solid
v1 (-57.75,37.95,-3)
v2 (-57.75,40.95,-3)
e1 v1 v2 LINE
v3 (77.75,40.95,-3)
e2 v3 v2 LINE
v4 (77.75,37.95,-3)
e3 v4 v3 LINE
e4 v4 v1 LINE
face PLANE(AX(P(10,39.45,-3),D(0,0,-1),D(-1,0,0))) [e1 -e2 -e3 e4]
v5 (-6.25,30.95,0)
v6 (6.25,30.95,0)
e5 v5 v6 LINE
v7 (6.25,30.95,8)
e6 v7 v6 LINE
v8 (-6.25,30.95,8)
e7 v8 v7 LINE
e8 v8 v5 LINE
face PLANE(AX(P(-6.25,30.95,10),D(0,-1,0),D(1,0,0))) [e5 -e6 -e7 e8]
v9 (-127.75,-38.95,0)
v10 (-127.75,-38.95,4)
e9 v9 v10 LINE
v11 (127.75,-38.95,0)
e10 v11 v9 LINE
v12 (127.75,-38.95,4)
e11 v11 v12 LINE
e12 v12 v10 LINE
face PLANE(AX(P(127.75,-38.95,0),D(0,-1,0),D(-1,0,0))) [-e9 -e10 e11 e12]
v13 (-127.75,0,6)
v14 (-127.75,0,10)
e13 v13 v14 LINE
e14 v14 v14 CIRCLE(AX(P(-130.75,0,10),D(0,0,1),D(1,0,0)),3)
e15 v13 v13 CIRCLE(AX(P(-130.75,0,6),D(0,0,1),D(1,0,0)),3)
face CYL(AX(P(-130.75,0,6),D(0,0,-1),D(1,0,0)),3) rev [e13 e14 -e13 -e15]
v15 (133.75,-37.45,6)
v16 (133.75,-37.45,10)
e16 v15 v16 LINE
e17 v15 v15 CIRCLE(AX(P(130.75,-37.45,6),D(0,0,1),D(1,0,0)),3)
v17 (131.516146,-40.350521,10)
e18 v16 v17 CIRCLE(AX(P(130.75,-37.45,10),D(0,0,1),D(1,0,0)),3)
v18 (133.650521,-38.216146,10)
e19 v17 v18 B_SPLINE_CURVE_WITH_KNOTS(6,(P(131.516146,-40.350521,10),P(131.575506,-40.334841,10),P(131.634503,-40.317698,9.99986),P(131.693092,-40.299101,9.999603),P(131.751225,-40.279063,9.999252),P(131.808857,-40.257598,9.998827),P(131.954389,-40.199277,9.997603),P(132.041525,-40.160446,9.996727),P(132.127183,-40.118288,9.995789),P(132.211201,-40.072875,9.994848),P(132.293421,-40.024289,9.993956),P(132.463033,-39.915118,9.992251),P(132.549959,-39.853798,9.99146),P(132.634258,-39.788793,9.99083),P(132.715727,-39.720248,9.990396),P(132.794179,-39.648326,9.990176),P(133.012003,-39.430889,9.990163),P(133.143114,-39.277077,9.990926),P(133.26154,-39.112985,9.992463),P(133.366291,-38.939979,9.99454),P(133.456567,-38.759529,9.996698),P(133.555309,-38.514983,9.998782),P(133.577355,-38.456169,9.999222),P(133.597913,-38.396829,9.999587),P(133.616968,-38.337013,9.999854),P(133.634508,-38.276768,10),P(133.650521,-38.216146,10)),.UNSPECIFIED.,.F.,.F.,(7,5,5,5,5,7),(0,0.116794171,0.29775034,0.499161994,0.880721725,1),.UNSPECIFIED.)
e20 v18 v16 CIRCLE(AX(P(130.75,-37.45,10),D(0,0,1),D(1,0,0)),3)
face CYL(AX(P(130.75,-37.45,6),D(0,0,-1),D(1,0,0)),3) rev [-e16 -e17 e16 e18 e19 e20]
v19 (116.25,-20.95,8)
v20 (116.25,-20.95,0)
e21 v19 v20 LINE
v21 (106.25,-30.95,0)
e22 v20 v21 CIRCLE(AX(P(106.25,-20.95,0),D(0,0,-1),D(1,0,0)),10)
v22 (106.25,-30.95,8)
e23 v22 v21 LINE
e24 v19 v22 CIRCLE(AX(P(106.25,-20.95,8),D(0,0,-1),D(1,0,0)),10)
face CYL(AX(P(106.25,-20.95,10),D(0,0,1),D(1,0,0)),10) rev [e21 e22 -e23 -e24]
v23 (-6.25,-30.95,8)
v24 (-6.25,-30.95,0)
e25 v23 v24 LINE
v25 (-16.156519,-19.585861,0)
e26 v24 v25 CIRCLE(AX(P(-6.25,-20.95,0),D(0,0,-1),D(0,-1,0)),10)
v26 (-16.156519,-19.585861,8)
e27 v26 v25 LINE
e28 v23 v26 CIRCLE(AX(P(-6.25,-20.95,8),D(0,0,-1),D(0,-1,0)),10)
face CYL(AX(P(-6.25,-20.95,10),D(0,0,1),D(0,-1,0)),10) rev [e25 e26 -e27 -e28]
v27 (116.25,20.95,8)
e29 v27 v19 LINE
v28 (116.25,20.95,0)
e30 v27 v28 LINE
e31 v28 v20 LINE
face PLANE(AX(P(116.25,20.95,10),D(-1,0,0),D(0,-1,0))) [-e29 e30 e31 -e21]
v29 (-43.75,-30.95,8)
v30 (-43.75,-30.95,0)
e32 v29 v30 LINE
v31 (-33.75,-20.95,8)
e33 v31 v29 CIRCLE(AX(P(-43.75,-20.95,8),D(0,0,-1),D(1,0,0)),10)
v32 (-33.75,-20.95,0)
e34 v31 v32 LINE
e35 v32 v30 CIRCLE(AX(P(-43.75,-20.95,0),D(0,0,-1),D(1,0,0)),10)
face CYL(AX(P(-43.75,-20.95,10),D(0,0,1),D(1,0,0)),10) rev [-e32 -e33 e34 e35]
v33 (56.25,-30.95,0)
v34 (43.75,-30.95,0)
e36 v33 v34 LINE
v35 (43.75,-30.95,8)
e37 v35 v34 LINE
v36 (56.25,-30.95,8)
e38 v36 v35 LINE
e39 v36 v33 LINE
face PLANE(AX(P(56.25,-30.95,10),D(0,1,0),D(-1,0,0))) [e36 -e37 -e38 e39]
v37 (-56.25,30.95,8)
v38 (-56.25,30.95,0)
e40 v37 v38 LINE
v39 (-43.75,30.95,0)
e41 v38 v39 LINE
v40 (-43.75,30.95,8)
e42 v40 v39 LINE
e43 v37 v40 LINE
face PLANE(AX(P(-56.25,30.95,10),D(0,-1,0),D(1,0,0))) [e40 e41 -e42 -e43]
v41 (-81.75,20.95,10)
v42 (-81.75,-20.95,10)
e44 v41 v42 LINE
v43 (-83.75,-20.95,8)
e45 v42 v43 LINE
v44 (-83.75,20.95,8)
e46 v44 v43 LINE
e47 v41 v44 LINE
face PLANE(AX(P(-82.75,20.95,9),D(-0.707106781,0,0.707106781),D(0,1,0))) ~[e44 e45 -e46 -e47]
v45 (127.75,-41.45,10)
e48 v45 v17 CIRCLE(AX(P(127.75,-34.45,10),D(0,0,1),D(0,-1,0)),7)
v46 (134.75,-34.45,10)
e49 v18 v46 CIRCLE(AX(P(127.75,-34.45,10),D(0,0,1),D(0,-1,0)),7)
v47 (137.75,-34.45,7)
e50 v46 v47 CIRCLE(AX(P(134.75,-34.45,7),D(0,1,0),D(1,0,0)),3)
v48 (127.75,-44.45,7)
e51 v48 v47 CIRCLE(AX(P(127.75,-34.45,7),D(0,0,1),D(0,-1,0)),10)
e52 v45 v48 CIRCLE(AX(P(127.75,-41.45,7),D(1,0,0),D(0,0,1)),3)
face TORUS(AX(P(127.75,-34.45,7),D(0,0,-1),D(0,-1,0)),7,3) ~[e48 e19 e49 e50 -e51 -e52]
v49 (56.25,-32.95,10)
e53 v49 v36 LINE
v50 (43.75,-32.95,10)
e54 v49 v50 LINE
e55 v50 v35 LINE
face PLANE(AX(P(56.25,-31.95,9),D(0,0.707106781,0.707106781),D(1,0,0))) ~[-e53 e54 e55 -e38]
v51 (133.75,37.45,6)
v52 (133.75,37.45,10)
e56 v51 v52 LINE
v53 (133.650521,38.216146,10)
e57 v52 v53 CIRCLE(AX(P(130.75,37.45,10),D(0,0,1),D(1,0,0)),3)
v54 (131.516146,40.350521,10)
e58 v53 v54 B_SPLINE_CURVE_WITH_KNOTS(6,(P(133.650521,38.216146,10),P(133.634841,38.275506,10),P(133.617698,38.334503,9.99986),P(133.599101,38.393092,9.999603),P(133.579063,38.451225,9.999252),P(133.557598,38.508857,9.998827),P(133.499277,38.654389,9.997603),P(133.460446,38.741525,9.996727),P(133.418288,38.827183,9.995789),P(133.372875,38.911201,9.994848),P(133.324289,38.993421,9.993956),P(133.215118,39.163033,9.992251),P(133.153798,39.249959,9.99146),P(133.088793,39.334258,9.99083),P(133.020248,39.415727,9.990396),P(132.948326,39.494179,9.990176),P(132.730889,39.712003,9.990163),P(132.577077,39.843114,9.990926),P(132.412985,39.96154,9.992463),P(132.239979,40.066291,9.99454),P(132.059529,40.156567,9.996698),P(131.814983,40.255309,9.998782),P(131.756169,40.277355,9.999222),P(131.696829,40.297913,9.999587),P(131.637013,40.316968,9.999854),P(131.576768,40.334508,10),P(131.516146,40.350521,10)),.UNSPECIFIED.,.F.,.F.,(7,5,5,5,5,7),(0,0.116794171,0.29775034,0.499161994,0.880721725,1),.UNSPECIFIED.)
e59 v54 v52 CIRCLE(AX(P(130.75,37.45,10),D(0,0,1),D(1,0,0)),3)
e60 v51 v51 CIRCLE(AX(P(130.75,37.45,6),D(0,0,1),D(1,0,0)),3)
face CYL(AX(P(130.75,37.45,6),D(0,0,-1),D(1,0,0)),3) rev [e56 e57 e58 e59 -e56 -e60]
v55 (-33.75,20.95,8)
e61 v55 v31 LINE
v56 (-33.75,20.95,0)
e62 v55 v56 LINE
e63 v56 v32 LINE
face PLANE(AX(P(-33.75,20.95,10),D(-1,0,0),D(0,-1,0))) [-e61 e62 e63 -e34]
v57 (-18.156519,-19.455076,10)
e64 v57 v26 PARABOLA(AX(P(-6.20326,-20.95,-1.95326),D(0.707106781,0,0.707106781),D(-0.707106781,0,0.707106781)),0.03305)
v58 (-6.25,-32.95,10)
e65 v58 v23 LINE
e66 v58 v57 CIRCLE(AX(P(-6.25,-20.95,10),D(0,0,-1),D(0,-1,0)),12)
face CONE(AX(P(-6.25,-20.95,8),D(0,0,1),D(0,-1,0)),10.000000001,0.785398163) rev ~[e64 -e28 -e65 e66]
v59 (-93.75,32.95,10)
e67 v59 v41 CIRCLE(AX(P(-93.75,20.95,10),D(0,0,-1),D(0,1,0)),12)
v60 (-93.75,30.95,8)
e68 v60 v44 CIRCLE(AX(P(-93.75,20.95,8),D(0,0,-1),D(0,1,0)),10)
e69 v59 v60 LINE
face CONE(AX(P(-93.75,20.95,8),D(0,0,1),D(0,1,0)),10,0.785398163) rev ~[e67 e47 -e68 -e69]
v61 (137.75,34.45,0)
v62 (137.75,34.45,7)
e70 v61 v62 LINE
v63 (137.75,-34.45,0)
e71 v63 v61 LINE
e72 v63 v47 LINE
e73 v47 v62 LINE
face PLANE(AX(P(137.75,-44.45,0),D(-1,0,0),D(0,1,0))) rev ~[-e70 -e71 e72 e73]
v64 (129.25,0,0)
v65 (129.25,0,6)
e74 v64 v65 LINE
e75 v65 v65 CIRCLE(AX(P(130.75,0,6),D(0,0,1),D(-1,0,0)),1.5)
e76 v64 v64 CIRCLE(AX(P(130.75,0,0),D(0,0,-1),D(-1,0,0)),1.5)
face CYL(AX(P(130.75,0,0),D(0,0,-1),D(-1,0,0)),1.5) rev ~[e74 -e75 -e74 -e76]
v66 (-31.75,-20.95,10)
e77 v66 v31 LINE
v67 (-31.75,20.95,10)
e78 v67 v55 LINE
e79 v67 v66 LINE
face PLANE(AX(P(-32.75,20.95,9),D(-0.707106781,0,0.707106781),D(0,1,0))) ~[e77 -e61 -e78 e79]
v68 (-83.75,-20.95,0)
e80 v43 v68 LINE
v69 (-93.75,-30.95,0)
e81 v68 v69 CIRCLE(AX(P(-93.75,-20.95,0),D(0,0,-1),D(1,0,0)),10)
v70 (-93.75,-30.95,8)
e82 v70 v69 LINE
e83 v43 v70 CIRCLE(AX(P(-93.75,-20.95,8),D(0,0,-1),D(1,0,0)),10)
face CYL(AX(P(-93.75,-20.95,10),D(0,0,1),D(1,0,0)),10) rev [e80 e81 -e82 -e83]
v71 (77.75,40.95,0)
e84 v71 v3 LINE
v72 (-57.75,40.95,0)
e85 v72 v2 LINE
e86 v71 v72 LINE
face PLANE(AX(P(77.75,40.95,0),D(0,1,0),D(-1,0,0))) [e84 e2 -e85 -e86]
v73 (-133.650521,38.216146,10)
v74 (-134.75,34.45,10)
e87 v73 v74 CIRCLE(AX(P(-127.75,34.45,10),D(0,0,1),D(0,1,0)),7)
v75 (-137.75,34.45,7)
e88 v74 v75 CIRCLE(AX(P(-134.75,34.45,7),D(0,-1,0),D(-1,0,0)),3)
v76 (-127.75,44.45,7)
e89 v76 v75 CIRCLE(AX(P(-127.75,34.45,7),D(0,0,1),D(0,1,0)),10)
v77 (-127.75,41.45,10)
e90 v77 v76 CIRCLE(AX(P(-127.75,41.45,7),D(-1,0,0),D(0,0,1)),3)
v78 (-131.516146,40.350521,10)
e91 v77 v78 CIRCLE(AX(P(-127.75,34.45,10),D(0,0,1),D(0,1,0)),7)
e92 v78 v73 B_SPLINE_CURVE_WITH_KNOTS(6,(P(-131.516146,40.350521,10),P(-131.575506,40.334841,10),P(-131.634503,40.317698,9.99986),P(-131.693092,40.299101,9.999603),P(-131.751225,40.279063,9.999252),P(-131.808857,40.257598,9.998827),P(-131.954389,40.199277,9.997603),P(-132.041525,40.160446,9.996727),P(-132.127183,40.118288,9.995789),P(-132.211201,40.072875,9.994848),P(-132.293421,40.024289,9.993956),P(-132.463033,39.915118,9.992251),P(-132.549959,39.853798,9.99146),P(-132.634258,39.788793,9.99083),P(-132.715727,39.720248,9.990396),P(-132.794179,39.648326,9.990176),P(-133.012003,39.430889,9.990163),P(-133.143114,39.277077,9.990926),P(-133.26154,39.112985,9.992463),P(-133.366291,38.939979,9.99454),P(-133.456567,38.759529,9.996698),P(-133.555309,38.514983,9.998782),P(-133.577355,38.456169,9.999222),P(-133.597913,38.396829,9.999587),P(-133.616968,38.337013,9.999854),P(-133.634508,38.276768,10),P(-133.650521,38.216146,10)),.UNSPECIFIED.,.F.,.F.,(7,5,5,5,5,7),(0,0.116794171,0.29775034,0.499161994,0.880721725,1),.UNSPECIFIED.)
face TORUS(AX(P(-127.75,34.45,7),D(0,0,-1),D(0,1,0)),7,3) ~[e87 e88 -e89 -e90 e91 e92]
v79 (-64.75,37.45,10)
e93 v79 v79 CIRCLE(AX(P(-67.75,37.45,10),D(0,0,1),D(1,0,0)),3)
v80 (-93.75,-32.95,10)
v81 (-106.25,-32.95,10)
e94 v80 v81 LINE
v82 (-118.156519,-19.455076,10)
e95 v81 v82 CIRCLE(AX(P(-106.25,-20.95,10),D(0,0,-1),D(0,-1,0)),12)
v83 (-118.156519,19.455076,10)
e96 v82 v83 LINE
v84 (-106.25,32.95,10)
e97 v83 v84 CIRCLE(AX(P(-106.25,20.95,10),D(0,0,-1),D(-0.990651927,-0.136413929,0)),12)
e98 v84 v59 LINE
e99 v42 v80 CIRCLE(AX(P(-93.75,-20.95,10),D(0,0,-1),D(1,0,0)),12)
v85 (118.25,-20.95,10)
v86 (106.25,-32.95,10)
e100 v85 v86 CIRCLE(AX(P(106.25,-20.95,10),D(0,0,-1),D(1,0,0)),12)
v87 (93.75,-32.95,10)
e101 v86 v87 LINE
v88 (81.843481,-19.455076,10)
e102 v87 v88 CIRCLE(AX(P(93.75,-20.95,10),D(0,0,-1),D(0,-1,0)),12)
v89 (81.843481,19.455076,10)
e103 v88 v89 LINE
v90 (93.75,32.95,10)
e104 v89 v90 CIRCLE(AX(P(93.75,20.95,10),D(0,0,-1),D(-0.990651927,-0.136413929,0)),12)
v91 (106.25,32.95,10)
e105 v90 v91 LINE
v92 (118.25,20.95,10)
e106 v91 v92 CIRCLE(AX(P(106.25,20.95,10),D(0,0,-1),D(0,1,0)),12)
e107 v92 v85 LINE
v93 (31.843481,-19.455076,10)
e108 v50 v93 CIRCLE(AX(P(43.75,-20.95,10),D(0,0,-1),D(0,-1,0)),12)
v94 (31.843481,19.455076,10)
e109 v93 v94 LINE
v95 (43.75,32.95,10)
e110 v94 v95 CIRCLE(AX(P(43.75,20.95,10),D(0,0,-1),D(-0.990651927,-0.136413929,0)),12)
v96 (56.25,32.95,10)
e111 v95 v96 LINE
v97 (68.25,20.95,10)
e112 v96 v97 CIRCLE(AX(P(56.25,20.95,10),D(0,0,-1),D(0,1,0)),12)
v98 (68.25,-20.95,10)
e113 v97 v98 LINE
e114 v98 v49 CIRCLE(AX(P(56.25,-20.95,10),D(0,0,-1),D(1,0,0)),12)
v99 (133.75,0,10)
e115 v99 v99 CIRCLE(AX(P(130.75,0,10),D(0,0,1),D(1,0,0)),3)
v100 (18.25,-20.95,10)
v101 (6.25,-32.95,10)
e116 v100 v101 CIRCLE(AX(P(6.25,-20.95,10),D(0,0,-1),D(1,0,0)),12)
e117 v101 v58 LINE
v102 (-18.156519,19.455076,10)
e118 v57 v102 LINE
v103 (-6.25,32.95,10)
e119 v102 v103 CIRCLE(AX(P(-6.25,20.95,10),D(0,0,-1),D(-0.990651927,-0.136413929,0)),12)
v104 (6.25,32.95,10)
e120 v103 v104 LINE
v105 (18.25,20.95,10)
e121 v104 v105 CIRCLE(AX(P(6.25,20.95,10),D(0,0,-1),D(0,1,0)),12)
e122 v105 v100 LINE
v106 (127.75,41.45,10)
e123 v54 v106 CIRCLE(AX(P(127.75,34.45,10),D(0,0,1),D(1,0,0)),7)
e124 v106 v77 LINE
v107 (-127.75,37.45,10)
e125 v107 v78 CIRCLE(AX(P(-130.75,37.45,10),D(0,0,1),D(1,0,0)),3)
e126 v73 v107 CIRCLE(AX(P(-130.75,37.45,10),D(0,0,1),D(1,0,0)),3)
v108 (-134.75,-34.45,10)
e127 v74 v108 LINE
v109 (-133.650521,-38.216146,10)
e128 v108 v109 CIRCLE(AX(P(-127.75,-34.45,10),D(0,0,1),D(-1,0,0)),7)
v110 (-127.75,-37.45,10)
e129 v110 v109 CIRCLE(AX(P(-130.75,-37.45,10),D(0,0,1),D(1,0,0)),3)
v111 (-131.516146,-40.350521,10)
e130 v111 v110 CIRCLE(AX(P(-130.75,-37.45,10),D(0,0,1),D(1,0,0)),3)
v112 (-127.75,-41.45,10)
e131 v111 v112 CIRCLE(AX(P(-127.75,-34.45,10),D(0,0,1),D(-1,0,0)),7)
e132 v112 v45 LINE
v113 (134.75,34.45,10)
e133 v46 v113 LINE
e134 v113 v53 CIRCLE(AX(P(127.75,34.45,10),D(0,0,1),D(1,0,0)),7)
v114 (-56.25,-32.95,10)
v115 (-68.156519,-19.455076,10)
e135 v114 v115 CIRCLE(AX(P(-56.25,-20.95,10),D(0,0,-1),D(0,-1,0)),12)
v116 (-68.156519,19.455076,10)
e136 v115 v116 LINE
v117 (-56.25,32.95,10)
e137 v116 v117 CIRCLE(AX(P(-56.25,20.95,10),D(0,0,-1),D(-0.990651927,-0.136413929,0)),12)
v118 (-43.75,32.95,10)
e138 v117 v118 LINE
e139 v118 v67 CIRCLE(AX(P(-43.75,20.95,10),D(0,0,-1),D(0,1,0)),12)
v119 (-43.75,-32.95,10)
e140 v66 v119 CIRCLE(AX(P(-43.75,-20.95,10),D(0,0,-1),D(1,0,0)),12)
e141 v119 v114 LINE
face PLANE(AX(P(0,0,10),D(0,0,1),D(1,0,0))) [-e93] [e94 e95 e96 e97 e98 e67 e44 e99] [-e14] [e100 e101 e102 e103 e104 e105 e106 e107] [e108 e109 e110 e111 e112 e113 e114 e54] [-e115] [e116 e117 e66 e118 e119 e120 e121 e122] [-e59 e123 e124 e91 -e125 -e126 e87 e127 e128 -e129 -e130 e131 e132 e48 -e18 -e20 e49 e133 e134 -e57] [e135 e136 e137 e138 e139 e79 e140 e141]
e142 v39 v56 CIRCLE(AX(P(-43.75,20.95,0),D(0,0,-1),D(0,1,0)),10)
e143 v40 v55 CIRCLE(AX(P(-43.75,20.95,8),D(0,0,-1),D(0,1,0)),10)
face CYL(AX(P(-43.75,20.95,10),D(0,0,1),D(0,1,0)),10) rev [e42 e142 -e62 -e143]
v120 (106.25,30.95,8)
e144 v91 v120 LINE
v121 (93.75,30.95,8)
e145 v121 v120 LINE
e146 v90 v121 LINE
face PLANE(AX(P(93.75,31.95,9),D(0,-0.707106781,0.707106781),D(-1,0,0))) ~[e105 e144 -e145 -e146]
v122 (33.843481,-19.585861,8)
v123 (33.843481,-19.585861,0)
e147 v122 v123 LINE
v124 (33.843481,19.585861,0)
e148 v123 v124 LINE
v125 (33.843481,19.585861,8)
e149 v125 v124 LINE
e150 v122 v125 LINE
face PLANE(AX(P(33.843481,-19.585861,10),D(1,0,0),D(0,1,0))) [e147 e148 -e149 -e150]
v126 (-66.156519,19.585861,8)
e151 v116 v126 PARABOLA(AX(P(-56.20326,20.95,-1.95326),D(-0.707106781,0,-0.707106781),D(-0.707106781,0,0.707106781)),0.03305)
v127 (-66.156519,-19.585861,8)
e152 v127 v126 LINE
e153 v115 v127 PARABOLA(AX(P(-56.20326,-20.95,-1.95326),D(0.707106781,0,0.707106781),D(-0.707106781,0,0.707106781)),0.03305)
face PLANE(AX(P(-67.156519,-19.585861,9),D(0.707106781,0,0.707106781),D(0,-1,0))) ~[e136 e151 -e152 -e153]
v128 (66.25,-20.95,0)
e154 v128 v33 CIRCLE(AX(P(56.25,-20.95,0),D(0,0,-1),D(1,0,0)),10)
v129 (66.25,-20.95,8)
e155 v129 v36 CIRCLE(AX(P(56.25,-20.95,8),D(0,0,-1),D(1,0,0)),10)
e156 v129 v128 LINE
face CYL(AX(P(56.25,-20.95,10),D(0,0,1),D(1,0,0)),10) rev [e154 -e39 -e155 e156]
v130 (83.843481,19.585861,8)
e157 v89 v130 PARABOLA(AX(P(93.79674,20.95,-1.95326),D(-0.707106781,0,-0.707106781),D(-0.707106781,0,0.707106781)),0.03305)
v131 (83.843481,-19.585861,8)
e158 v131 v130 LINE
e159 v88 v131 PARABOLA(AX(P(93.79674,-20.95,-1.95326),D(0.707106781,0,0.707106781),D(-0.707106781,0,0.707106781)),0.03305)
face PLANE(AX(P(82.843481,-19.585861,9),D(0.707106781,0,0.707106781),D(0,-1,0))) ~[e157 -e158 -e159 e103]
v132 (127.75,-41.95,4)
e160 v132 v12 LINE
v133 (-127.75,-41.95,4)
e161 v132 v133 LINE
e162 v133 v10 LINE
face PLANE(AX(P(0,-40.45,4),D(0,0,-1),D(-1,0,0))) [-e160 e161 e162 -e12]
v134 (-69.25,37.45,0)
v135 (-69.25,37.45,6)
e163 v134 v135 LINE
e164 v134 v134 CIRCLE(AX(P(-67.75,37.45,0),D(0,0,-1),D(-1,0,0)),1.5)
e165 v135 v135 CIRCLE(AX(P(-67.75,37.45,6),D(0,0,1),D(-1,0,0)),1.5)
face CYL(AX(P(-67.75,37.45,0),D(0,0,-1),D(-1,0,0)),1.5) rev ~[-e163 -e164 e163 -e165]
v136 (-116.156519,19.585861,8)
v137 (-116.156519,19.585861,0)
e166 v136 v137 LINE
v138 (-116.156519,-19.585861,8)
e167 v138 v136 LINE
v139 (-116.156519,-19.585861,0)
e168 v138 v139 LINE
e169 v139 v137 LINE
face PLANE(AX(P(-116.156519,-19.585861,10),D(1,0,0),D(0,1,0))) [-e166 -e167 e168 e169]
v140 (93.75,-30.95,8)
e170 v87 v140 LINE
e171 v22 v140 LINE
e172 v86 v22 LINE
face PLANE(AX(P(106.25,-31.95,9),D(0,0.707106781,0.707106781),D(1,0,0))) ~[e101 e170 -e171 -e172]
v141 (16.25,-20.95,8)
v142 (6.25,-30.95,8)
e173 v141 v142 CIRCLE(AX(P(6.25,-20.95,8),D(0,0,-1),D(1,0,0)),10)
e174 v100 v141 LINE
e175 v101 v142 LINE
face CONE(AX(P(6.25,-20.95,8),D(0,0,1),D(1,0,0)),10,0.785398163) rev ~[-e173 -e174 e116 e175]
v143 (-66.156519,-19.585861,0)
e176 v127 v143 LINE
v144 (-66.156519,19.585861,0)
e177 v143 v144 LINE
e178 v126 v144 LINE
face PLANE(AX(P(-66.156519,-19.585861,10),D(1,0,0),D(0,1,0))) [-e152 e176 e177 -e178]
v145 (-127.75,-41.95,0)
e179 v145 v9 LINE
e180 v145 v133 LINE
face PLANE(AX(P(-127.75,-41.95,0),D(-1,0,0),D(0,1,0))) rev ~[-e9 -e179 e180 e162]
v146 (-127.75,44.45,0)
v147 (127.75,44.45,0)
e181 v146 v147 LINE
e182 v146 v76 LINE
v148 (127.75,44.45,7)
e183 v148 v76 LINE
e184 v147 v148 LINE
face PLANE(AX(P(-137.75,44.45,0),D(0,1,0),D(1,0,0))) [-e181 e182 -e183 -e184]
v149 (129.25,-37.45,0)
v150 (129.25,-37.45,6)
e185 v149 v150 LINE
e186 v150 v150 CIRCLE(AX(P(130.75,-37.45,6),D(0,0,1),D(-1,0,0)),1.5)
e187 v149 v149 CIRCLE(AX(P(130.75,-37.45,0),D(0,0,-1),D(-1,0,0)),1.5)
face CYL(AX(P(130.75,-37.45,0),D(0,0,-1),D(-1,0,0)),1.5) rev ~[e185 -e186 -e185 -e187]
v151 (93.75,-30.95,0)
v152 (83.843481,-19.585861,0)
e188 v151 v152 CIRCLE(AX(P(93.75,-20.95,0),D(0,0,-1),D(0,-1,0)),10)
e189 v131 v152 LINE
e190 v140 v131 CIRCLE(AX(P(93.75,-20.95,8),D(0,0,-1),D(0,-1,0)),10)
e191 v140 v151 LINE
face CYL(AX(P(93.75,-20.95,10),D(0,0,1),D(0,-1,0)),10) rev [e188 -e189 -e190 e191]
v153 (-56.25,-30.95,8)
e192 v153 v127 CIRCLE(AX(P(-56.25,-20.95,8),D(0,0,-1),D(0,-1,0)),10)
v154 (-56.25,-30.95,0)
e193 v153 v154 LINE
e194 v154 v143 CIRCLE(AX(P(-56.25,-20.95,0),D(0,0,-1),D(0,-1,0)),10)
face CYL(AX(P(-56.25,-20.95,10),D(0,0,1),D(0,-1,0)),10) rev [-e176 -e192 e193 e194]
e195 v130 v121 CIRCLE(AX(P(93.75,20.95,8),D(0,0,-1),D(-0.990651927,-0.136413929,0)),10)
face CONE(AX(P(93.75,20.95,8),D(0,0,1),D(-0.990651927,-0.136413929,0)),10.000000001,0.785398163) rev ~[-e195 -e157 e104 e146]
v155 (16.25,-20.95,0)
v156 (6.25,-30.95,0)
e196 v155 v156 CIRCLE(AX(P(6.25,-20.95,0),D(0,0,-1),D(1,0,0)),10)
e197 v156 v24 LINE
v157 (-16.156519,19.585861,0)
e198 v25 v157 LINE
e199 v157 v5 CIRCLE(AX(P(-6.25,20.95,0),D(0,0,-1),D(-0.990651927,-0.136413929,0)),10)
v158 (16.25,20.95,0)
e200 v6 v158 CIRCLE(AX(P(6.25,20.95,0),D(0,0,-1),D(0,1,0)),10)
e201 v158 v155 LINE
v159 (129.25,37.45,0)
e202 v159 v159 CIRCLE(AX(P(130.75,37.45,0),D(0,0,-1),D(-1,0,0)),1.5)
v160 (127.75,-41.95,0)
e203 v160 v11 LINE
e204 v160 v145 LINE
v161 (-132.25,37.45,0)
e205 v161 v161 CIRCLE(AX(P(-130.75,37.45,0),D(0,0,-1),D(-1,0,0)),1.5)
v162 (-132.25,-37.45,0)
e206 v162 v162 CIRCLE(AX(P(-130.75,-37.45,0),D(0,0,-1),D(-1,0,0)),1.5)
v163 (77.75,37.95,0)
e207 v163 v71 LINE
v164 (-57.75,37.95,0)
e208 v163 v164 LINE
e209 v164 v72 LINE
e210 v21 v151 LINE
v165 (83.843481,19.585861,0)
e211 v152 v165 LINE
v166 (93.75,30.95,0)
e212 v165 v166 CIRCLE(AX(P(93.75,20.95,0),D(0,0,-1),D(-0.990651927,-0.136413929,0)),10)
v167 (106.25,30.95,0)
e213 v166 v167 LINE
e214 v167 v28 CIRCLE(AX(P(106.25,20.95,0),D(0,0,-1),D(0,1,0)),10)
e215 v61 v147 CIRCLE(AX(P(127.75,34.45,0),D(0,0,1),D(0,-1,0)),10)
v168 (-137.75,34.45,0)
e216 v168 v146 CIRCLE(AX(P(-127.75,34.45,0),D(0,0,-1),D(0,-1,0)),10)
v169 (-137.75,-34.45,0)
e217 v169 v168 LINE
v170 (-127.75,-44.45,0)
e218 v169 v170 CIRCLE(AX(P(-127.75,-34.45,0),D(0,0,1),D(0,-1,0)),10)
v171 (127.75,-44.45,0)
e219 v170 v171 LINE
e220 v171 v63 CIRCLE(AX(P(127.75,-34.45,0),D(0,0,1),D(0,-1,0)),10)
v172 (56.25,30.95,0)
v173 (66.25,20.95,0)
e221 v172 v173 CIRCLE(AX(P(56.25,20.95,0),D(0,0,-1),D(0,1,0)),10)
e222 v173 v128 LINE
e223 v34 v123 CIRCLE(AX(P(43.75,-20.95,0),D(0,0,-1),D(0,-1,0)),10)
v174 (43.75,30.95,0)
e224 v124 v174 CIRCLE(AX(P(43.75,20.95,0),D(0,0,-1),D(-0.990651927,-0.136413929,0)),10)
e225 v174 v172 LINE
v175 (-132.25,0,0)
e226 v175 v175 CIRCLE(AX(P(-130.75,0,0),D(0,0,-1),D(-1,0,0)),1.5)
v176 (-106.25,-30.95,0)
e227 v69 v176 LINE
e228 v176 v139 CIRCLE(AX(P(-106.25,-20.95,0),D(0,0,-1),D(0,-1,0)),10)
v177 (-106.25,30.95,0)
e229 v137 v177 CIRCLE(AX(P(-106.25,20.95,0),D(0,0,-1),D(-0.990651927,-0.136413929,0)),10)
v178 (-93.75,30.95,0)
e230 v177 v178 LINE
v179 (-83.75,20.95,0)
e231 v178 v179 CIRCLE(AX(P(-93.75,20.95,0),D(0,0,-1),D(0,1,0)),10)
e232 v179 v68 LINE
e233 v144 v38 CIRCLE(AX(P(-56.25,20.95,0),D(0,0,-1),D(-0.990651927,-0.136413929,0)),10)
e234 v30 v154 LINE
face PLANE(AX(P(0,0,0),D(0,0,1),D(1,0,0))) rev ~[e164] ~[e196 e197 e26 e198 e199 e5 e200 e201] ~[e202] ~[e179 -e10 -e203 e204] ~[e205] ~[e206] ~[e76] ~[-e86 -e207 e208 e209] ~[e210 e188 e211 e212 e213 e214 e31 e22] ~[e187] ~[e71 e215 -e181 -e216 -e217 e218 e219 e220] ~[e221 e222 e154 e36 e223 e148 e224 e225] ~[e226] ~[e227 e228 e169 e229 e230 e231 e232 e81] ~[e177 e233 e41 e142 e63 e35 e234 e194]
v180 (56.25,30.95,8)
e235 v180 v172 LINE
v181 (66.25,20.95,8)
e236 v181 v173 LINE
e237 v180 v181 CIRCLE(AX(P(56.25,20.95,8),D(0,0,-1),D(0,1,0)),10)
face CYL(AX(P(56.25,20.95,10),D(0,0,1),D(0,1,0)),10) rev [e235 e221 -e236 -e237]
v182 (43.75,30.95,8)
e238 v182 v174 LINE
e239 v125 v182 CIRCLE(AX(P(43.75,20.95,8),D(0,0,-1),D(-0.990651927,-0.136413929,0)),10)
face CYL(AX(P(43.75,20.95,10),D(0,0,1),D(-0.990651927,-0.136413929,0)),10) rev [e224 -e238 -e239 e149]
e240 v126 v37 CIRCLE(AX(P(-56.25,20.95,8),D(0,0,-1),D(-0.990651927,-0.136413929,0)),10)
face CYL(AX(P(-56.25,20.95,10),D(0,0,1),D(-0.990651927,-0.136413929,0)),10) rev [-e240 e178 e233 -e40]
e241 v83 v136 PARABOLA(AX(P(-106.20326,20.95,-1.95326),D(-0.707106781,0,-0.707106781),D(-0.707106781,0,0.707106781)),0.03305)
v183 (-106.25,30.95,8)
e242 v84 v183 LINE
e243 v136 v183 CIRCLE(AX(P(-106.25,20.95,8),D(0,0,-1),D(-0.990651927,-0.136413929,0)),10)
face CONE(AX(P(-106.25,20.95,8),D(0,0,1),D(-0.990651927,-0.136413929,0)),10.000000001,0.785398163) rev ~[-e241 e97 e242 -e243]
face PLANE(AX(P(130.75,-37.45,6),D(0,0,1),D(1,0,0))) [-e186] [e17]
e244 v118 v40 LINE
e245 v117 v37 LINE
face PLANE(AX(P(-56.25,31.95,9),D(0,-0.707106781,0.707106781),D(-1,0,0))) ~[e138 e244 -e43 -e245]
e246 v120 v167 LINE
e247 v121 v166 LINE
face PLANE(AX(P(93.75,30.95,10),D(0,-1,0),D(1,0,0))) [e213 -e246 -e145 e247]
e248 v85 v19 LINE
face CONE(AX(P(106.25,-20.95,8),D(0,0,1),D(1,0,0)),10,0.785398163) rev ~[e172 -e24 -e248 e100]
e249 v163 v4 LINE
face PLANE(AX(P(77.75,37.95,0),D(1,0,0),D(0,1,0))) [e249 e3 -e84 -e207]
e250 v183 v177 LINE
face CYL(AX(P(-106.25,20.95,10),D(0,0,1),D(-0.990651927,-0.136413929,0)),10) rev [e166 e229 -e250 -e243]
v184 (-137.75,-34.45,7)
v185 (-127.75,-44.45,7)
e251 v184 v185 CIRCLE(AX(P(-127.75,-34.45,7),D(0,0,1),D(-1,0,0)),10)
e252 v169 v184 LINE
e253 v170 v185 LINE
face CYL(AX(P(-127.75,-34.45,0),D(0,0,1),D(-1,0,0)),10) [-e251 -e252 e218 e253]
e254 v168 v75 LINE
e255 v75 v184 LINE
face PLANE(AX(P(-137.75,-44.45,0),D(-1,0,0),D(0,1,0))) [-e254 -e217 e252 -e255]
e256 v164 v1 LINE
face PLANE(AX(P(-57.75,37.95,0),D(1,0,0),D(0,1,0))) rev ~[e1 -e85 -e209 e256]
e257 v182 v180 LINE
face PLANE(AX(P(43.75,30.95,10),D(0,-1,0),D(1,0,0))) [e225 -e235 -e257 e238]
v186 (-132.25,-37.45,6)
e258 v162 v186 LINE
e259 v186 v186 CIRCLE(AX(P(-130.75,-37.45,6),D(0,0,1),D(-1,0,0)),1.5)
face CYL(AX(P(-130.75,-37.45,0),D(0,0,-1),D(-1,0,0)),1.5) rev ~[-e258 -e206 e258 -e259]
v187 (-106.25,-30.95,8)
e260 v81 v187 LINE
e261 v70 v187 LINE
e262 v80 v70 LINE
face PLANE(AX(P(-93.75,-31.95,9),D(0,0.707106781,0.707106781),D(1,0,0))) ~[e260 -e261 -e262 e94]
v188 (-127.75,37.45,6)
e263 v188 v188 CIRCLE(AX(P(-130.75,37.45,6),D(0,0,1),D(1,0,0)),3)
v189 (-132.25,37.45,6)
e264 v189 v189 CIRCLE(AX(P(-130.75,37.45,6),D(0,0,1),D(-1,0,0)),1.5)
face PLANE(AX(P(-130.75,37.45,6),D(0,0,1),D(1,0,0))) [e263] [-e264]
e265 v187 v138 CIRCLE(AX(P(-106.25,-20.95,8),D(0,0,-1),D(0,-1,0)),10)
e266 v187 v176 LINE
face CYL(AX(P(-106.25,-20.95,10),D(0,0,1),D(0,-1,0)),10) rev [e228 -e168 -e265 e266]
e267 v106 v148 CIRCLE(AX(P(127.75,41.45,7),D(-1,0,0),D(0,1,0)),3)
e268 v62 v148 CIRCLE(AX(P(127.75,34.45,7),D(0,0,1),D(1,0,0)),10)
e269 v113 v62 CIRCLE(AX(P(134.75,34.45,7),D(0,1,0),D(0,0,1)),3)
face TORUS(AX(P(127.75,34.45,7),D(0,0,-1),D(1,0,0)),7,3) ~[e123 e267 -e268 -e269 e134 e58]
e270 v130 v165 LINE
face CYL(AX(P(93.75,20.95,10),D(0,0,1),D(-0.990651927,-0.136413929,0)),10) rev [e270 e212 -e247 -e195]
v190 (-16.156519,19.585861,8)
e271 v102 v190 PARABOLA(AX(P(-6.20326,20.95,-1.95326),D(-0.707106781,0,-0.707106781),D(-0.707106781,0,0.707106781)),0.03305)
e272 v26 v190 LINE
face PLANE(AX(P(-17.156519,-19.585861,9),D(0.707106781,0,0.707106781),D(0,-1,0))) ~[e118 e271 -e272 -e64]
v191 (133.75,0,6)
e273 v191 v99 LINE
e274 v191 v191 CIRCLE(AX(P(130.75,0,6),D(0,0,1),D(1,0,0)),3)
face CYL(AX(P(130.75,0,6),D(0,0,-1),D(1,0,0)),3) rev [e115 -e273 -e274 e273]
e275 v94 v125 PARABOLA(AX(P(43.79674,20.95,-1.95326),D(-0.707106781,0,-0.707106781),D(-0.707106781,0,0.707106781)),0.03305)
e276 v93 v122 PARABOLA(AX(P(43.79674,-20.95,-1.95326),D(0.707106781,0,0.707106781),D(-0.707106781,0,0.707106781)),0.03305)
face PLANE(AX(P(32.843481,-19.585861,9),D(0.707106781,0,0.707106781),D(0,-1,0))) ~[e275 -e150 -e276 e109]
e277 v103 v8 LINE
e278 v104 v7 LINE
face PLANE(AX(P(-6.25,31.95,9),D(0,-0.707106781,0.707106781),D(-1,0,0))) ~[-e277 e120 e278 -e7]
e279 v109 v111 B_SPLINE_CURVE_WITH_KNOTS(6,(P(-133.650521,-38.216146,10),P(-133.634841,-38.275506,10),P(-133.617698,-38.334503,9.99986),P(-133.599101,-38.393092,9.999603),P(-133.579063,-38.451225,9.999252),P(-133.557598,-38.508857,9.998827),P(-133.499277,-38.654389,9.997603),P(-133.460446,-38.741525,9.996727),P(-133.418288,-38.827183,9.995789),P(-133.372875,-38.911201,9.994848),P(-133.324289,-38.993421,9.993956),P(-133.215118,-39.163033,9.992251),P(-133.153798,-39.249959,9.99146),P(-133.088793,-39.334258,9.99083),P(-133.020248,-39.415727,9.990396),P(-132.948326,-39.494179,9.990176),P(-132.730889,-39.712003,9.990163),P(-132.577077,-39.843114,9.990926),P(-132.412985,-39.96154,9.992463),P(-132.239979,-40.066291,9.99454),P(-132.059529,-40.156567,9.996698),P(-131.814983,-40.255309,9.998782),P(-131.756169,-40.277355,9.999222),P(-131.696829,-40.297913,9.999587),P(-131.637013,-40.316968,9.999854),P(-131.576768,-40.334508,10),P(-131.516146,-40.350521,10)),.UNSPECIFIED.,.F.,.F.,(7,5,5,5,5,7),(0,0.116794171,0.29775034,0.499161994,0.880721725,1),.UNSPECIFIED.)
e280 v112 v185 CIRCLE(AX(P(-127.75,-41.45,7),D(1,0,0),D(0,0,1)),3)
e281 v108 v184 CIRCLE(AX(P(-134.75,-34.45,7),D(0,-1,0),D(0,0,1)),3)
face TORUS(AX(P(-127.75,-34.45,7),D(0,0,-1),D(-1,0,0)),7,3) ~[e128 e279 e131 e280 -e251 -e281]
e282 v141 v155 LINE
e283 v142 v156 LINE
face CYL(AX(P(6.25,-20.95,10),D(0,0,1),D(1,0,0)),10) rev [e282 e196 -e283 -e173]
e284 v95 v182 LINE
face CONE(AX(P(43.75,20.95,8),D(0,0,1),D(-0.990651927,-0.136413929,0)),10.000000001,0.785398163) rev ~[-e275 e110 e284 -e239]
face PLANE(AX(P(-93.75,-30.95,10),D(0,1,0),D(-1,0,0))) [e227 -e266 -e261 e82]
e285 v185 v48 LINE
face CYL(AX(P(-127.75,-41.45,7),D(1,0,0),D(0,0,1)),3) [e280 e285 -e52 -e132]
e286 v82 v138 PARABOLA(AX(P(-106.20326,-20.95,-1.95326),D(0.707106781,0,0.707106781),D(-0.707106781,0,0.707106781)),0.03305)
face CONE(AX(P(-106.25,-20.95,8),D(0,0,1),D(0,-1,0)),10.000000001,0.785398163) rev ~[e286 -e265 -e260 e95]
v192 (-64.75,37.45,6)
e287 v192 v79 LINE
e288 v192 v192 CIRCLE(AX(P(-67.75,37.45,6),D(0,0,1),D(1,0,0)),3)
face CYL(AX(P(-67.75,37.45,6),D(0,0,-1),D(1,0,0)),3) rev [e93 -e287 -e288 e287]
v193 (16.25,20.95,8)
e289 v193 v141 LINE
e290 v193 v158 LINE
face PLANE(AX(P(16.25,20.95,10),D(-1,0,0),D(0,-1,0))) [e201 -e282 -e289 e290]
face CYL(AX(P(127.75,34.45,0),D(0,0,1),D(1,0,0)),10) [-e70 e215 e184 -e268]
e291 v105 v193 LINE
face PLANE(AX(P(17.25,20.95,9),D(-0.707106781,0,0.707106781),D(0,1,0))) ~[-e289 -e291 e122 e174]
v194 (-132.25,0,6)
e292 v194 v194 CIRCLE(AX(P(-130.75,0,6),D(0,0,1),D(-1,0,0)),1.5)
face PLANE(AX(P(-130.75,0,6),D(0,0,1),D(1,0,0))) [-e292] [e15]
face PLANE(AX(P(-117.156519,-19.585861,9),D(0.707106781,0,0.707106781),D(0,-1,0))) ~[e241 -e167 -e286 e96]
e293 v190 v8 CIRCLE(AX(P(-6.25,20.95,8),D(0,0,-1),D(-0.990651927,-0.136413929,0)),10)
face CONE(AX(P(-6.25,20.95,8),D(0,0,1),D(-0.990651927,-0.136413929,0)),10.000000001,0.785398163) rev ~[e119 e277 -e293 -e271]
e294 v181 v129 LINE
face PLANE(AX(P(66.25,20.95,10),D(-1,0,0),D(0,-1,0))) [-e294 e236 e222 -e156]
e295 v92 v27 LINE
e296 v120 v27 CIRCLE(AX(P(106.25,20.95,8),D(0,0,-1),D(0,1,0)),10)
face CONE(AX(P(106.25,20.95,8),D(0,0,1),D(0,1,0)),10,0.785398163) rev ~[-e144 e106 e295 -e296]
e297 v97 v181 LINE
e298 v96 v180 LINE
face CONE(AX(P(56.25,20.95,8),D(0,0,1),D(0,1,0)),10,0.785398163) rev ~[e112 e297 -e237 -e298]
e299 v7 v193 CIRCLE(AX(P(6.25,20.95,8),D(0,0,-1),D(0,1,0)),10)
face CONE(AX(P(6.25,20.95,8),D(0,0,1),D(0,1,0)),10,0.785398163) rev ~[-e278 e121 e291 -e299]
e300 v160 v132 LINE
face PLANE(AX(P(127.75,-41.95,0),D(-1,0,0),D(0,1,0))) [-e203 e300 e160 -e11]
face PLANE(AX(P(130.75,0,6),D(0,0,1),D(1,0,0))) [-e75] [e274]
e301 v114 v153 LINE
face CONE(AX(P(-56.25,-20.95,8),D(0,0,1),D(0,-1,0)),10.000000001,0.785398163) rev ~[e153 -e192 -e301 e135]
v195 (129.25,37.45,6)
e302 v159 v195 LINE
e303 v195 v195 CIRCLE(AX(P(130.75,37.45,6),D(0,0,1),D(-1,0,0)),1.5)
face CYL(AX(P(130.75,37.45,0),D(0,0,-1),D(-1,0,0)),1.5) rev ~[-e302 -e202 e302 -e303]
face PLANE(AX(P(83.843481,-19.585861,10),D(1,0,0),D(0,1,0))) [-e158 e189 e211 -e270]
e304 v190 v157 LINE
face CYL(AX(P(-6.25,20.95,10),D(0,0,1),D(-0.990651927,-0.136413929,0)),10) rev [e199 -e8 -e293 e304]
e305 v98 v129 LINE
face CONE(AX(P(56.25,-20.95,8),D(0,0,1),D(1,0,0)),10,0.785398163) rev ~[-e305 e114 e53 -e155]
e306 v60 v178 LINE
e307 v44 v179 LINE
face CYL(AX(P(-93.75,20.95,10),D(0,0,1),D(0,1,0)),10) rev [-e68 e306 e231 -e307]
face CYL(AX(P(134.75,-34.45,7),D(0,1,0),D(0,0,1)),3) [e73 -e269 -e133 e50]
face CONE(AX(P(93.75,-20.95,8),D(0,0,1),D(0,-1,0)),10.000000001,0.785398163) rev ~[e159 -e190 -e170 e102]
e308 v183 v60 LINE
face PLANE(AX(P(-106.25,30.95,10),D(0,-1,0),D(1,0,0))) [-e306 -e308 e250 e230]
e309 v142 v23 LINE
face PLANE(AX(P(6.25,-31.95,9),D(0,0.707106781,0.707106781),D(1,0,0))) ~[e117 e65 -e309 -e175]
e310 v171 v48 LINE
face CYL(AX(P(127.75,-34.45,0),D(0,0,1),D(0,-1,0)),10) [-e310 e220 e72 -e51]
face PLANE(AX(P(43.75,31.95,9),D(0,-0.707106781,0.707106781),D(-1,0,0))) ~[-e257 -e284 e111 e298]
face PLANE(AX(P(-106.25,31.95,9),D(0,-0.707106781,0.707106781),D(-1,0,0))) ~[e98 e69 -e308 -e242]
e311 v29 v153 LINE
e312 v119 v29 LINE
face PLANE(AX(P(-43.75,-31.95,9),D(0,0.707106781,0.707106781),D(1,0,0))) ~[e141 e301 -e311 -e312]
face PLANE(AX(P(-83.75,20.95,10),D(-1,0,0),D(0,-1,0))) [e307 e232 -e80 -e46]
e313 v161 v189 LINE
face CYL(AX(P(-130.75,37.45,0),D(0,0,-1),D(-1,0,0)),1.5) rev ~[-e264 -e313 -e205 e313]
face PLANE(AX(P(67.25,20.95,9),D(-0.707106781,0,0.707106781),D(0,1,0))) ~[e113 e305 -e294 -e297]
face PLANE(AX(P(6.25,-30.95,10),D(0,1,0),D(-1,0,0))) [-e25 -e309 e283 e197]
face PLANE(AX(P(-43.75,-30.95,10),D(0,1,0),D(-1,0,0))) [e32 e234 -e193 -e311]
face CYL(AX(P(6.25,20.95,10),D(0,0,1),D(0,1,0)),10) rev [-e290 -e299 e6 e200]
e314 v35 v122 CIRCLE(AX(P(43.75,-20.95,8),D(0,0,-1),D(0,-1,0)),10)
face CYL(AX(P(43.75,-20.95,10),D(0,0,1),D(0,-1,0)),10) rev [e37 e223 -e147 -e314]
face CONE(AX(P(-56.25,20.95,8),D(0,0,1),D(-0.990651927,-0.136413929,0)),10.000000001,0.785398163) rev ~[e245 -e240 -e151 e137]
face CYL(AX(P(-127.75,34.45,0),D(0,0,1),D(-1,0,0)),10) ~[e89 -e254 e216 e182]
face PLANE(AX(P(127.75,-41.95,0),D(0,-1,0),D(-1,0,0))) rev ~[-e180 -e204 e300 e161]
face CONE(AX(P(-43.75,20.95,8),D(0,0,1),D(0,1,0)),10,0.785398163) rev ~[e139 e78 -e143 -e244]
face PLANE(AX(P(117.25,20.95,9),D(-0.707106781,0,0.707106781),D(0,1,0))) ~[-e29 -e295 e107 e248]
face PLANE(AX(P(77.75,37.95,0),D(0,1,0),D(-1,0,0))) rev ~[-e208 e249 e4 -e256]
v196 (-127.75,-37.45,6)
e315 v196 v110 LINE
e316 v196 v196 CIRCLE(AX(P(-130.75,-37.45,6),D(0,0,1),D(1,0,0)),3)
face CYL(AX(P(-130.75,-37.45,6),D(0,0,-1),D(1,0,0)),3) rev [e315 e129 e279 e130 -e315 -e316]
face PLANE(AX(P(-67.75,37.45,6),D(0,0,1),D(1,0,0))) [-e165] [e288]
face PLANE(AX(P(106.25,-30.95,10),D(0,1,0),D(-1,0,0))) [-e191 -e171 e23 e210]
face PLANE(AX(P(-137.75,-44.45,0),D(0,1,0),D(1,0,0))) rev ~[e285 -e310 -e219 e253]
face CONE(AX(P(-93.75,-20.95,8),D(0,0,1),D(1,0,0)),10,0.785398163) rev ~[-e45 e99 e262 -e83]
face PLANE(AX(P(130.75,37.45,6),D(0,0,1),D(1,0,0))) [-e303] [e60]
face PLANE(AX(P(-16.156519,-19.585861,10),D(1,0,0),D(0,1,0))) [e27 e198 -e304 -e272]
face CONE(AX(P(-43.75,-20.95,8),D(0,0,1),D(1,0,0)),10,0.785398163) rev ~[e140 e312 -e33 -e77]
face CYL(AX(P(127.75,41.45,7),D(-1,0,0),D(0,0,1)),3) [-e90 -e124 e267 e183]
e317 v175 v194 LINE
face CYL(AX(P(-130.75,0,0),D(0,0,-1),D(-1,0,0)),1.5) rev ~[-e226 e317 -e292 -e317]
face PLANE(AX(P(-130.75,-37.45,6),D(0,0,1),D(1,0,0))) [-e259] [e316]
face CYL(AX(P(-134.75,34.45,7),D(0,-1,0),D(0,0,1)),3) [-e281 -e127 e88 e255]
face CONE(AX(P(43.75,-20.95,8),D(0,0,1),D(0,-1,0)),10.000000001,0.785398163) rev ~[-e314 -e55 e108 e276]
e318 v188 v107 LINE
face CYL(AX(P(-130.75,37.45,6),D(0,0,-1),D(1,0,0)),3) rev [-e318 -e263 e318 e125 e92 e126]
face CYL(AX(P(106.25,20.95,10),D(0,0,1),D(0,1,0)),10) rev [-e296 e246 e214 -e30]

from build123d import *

# Parameters (mm, degrees)
SKETCH_1_W          = 275.5
SKETCH_1_H          = 88.9
EXTRUDE_1_DEPTH     = 10
FILLET_1_R          = 10
CUT_EXTRUDE_1_DEPTH = 10
CHAMFER_2_SIZE      = 2
FILLET_3_R          = 3
SKETCH_3_W          = 255.5
SKETCH_3_H          = 3
CUT_EXTRUDE_2_DEPTH = 4
SKETCH_4_R          = 1.5
CUT_EXTRUDE_3_DEPTH = 46
CUT_EXTRUDE_START   = -4
SKETCH_5_R          = 3
SKETCH_5_R_2        = 1.5
CUT_EXTRUDE_4_DEPTH = 4
SKETCH_6_W          = 135.5
SKETCH_6_H          = 3
EXTRUDE_2_DEPTH     = 3


with BuildPart() as part:
    # 草图1 → 凸台-拉伸1 (new body)
    with BuildSketch(Plane.XY):
        Rectangle(SKETCH_1_W, SKETCH_1_H)
    extrude(amount=EXTRUDE_1_DEPTH)

    # 圆角1
    fillet_1_edges = [part.edges().sort_by_distance(p)[0] for p in [
        (137.75, -44.45, 5),
        (-137.75, -44.45, 5),
        (-137.75, 44.45, 5),
        (137.75, 44.45, 5),
    ]]
    fillet(fillet_1_edges, radius=FILLET_1_R)

    # 草图2 → 切除-拉伸1 (cut)
    with BuildSketch(Plane.XY.offset(10)):
        with BuildLine():
            Line((-6.25, 30.95), (6.25, 30.95))
            ThreePointArc((6.25, 30.95), (13.321067812, 28.021067812), (16.25, 20.95))
            Line((16.25, 20.95), (16.25, -20.95))
            ThreePointArc((16.25, -20.95), (13.321067812, -28.021067812), (6.25, -30.95))
            Line((6.25, -30.95), (-6.25, -30.95))
            ThreePointArc((-6.25, -30.95), (-13.787950414, -27.521096069), (-16.156519268, -19.58586071))
            Line((-16.156519268, -19.58586071), (-16.156519268, 19.58586071))
            ThreePointArc((-16.156519268, 19.58586071), (-13.787950414, 27.521096069), (-6.25, 30.95))
        make_face()
        with BuildLine():
            Line((-43.75, -30.95), (-56.25, -30.95))
            ThreePointArc((-56.25, -30.95), (-63.787950414, -27.521096069), (-66.156519268, -19.58586071))
            Line((-66.156519268, -19.58586071), (-66.156519268, 19.58586071))
            ThreePointArc((-66.156519268, 19.58586071), (-63.787950414, 27.521096069), (-56.25, 30.95))
            Line((-56.25, 30.95), (-43.75, 30.95))
            ThreePointArc((-43.75, 30.95), (-36.678932188, 28.021067812), (-33.75, 20.95))
            Line((-33.75, 20.95), (-33.75, -20.95))
            ThreePointArc((-33.75, -20.95), (-36.678932188, -28.021067812), (-43.75, -30.95))
        make_face()
        with BuildLine():
            Line((56.25, -30.95), (43.75, -30.95))
            ThreePointArc((43.75, -30.95), (36.212049586, -27.521096069), (33.843480732, -19.58586071))
            Line((33.843480732, -19.58586071), (33.843480732, 19.58586071))
            ThreePointArc((33.843480732, 19.58586071), (36.212049586, 27.521096069), (43.75, 30.95))
            Line((43.75, 30.95), (56.25, 30.95))
            ThreePointArc((56.25, 30.95), (63.321067812, 28.021067812), (66.25, 20.95))
            Line((66.25, 20.95), (66.25, -20.95))
            ThreePointArc((66.25, -20.95), (63.321067812, -28.021067812), (56.25, -30.95))
        make_face()
        with BuildLine():
            Line((106.25, -30.95), (93.75, -30.95))
            ThreePointArc((93.75, -30.95), (86.212049586, -27.521096069), (83.843480732, -19.58586071))
            Line((83.843480732, -19.58586071), (83.843480732, 19.58586071))
            ThreePointArc((83.843480732, 19.58586071), (86.212049586, 27.521096069), (93.75, 30.95))
            Line((93.75, 30.95), (106.25, 30.95))
            ThreePointArc((106.25, 30.95), (113.321067812, 28.021067812), (116.25, 20.95))
            Line((116.25, 20.95), (116.25, -20.95))
            ThreePointArc((116.25, -20.95), (113.321067812, -28.021067812), (106.25, -30.95))
        make_face()
        with BuildLine():
            Line((-93.75, -30.95), (-106.25, -30.95))
            ThreePointArc((-106.25, -30.95), (-113.787950414, -27.521096069), (-116.156519268, -19.58586071))
            Line((-116.156519268, -19.58586071), (-116.156519268, 19.58586071))
            ThreePointArc((-116.156519268, 19.58586071), (-113.787950414, 27.521096069), (-106.25, 30.95))
            Line((-106.25, 30.95), (-93.75, 30.95))
            ThreePointArc((-93.75, 30.95), (-86.678932188, 28.021067812), (-83.75, 20.95))
            Line((-83.75, 20.95), (-83.75, -20.95))
            ThreePointArc((-83.75, -20.95), (-86.678932188, -28.021067812), (-93.75, -30.95))
        make_face()
    extrude(amount=-CUT_EXTRUDE_1_DEPTH, mode=Mode.SUBTRACT)

    # 倒角2
    chamfer_2_edges = [part.edges().sort_by_distance(p)[0] for p in [
        (86.212049586, 27.521096069, 10),
        (83.843480732, 0, 10),
        (86.212049586, -27.521096069, 10),
        (100, -30.95, 10),
        (113.321067812, -28.021067812, 10),
        (116.25, 0, 10),
        (113.321067812, 28.021067812, 10),
        (100, 30.95, 10),
        (-113.787950414, 27.521096069, 10),
        (-116.156519268, 0, 10),
        (-113.787950414, -27.521096069, 10),
        (-100, -30.95, 10),
        (-86.678932188, -28.021067812, 10),
        (-83.75, 0, 10),
        (-86.678932188, 28.021067812, 10),
        (-100, 30.95, 10),
        (-13.787950414, 27.521096069, 10),
        (-16.156519268, 0, 10),
        (-13.787950414, -27.521096069, 10),
        (0, -30.95, 10),
        (13.321067812, -28.021067812, 10),
        (16.25, 0, 10),
        (13.321067812, 28.021067812, 10),
        (0, 30.95, 10),
        (36.212049586, 27.521096069, 10),
        (33.843480732, 0, 10),
        (36.212049586, -27.521096069, 10),
        (50, -30.95, 10),
        (63.321067812, -28.021067812, 10),
        (66.25, 0, 10),
        (63.321067812, 28.021067812, 10),
        (50, 30.95, 10),
        (-63.787950414, 27.521096069, 10),
        (-66.156519268, 0, 10),
        (-63.787950414, -27.521096069, 10),
        (-50, -30.95, 10),
        (-36.678932188, -28.021067812, 10),
        (-33.75, 0, 10),
        (-36.678932188, 28.021067812, 10),
        (-50, 30.95, 10),
    ]]
    chamfer(chamfer_2_edges, length=CHAMFER_2_SIZE)

    # 圆角3
    fillet_3_edges = [part.edges().sort_by_distance(p)[0] for p in [
        (0, -44.45, 10),
        (-137.75, 0, 10),
        (137.75, 0, 10),
        (0, 44.45, 10),
        (-134.821067812, 41.521067812, 10),
        (134.821067812, 41.521067812, 10),
        (134.821067812, -41.521067812, 10),
        (-134.821067812, -41.521067812, 10),
    ]]
    fillet(fillet_3_edges, radius=FILLET_3_R)

    # 草图3 → 切除-拉伸2 (cut)
    with BuildSketch(Plane(origin=(0, 0, 0), x_dir=(-1, 0, 0), z_dir=(0, 0, -1))):
        with Locations((0, -40.45)):
            Rectangle(SKETCH_3_W, SKETCH_3_H)
    extrude(amount=-CUT_EXTRUDE_2_DEPTH, mode=Mode.SUBTRACT)

    # 草图4 → 切除-拉伸3 (cut)
    with BuildSketch(Plane(origin=(0, 0, 0), x_dir=(-1, 0, 0), z_dir=(0, 0, -1))):
        with Locations((-130.75, 37.45)):
            Circle(SKETCH_4_R)
        with Locations((130.75, 37.45)):
            Circle(SKETCH_4_R)
        with Locations((130.75, -37.45)):
            Circle(SKETCH_4_R)
        with Locations((-130.75, -37.45)):
            Circle(SKETCH_4_R)
        with Locations((67.75, 37.45)):
            Circle(SKETCH_4_R)
        with Locations((-130.75, 0)):
            Circle(SKETCH_4_R)
        with Locations((130.75, 0)):
            Circle(SKETCH_4_R)
    extrude(amount=-CUT_EXTRUDE_3_DEPTH, mode=Mode.SUBTRACT)

    # 草图5 → 切除-拉伸4 (cut)
    # profile 1 of 7: a face of its own
    with BuildSketch(Plane.XY.offset(10).offset(CUT_EXTRUDE_START)):
        with Locations((-67.75, 37.45)):
            Circle(SKETCH_5_R)
        with Locations(Location((-67.75, 37.45, 0), (0, 0, 180))):
            Circle(SKETCH_5_R_2, mode=Mode.SUBTRACT)
    # profile 2 of 7: a face of its own
    with BuildSketch(Plane.XY.offset(10).offset(CUT_EXTRUDE_START)):
        with Locations((130.75, 0)):
            Circle(SKETCH_5_R)
        with Locations(Location((130.75, 0, 0), (0, 0, 180))):
            Circle(SKETCH_5_R_2, mode=Mode.SUBTRACT)
    # profile 3 of 7: a face of its own
    with BuildSketch(Plane.XY.offset(10).offset(CUT_EXTRUDE_START)):
        with Locations((-130.75, 0)):
            Circle(SKETCH_5_R)
        with Locations(Location((-130.75, 0, 0), (0, 0, 180))):
            Circle(SKETCH_5_R_2, mode=Mode.SUBTRACT)
    # profile 4 of 7: a face of its own
    with BuildSketch(Plane.XY.offset(10).offset(CUT_EXTRUDE_START)):
        with Locations((-130.75, 37.45)):
            Circle(SKETCH_5_R)
        with Locations(Location((-130.75, 37.45, 0), (0, 0, 180))):
            Circle(SKETCH_5_R_2, mode=Mode.SUBTRACT)
    # profile 5 of 7: a face of its own
    with BuildSketch(Plane.XY.offset(10).offset(CUT_EXTRUDE_START)):
        with Locations((-130.75, -37.45)):
            Circle(SKETCH_5_R)
        with Locations(Location((-130.75, -37.45, 0), (0, 0, 180))):
            Circle(SKETCH_5_R_2, mode=Mode.SUBTRACT)
    # profile 6 of 7: a face of its own
    with BuildSketch(Plane.XY.offset(10).offset(CUT_EXTRUDE_START)):
        with Locations((130.75, 37.45)):
            Circle(SKETCH_5_R)
        with Locations(Location((130.75, 37.45, 0), (0, 0, 180))):
            Circle(SKETCH_5_R_2, mode=Mode.SUBTRACT)
    # profile 7 of 7: a face of its own
    with BuildSketch(Plane.XY.offset(10).offset(CUT_EXTRUDE_START)):
        with Locations((130.75, -37.45)):
            Circle(SKETCH_5_R)
        with Locations(Location((130.75, -37.45, 0), (0, 0, 180))):
            Circle(SKETCH_5_R_2, mode=Mode.SUBTRACT)
    extrude(amount=CUT_EXTRUDE_4_DEPTH, mode=Mode.SUBTRACT)

    # 草图6 → 凸台-拉伸2 (add)
    with BuildSketch(Plane(origin=(0, 0, 0), x_dir=(-1, 0, 0), z_dir=(0, 0, -1))):
        with Locations((-10, 39.45)):
            Rectangle(SKETCH_6_W, SKETCH_6_H)
    extrude(amount=EXTRUDE_2_DEPTH)


solid = part.part
